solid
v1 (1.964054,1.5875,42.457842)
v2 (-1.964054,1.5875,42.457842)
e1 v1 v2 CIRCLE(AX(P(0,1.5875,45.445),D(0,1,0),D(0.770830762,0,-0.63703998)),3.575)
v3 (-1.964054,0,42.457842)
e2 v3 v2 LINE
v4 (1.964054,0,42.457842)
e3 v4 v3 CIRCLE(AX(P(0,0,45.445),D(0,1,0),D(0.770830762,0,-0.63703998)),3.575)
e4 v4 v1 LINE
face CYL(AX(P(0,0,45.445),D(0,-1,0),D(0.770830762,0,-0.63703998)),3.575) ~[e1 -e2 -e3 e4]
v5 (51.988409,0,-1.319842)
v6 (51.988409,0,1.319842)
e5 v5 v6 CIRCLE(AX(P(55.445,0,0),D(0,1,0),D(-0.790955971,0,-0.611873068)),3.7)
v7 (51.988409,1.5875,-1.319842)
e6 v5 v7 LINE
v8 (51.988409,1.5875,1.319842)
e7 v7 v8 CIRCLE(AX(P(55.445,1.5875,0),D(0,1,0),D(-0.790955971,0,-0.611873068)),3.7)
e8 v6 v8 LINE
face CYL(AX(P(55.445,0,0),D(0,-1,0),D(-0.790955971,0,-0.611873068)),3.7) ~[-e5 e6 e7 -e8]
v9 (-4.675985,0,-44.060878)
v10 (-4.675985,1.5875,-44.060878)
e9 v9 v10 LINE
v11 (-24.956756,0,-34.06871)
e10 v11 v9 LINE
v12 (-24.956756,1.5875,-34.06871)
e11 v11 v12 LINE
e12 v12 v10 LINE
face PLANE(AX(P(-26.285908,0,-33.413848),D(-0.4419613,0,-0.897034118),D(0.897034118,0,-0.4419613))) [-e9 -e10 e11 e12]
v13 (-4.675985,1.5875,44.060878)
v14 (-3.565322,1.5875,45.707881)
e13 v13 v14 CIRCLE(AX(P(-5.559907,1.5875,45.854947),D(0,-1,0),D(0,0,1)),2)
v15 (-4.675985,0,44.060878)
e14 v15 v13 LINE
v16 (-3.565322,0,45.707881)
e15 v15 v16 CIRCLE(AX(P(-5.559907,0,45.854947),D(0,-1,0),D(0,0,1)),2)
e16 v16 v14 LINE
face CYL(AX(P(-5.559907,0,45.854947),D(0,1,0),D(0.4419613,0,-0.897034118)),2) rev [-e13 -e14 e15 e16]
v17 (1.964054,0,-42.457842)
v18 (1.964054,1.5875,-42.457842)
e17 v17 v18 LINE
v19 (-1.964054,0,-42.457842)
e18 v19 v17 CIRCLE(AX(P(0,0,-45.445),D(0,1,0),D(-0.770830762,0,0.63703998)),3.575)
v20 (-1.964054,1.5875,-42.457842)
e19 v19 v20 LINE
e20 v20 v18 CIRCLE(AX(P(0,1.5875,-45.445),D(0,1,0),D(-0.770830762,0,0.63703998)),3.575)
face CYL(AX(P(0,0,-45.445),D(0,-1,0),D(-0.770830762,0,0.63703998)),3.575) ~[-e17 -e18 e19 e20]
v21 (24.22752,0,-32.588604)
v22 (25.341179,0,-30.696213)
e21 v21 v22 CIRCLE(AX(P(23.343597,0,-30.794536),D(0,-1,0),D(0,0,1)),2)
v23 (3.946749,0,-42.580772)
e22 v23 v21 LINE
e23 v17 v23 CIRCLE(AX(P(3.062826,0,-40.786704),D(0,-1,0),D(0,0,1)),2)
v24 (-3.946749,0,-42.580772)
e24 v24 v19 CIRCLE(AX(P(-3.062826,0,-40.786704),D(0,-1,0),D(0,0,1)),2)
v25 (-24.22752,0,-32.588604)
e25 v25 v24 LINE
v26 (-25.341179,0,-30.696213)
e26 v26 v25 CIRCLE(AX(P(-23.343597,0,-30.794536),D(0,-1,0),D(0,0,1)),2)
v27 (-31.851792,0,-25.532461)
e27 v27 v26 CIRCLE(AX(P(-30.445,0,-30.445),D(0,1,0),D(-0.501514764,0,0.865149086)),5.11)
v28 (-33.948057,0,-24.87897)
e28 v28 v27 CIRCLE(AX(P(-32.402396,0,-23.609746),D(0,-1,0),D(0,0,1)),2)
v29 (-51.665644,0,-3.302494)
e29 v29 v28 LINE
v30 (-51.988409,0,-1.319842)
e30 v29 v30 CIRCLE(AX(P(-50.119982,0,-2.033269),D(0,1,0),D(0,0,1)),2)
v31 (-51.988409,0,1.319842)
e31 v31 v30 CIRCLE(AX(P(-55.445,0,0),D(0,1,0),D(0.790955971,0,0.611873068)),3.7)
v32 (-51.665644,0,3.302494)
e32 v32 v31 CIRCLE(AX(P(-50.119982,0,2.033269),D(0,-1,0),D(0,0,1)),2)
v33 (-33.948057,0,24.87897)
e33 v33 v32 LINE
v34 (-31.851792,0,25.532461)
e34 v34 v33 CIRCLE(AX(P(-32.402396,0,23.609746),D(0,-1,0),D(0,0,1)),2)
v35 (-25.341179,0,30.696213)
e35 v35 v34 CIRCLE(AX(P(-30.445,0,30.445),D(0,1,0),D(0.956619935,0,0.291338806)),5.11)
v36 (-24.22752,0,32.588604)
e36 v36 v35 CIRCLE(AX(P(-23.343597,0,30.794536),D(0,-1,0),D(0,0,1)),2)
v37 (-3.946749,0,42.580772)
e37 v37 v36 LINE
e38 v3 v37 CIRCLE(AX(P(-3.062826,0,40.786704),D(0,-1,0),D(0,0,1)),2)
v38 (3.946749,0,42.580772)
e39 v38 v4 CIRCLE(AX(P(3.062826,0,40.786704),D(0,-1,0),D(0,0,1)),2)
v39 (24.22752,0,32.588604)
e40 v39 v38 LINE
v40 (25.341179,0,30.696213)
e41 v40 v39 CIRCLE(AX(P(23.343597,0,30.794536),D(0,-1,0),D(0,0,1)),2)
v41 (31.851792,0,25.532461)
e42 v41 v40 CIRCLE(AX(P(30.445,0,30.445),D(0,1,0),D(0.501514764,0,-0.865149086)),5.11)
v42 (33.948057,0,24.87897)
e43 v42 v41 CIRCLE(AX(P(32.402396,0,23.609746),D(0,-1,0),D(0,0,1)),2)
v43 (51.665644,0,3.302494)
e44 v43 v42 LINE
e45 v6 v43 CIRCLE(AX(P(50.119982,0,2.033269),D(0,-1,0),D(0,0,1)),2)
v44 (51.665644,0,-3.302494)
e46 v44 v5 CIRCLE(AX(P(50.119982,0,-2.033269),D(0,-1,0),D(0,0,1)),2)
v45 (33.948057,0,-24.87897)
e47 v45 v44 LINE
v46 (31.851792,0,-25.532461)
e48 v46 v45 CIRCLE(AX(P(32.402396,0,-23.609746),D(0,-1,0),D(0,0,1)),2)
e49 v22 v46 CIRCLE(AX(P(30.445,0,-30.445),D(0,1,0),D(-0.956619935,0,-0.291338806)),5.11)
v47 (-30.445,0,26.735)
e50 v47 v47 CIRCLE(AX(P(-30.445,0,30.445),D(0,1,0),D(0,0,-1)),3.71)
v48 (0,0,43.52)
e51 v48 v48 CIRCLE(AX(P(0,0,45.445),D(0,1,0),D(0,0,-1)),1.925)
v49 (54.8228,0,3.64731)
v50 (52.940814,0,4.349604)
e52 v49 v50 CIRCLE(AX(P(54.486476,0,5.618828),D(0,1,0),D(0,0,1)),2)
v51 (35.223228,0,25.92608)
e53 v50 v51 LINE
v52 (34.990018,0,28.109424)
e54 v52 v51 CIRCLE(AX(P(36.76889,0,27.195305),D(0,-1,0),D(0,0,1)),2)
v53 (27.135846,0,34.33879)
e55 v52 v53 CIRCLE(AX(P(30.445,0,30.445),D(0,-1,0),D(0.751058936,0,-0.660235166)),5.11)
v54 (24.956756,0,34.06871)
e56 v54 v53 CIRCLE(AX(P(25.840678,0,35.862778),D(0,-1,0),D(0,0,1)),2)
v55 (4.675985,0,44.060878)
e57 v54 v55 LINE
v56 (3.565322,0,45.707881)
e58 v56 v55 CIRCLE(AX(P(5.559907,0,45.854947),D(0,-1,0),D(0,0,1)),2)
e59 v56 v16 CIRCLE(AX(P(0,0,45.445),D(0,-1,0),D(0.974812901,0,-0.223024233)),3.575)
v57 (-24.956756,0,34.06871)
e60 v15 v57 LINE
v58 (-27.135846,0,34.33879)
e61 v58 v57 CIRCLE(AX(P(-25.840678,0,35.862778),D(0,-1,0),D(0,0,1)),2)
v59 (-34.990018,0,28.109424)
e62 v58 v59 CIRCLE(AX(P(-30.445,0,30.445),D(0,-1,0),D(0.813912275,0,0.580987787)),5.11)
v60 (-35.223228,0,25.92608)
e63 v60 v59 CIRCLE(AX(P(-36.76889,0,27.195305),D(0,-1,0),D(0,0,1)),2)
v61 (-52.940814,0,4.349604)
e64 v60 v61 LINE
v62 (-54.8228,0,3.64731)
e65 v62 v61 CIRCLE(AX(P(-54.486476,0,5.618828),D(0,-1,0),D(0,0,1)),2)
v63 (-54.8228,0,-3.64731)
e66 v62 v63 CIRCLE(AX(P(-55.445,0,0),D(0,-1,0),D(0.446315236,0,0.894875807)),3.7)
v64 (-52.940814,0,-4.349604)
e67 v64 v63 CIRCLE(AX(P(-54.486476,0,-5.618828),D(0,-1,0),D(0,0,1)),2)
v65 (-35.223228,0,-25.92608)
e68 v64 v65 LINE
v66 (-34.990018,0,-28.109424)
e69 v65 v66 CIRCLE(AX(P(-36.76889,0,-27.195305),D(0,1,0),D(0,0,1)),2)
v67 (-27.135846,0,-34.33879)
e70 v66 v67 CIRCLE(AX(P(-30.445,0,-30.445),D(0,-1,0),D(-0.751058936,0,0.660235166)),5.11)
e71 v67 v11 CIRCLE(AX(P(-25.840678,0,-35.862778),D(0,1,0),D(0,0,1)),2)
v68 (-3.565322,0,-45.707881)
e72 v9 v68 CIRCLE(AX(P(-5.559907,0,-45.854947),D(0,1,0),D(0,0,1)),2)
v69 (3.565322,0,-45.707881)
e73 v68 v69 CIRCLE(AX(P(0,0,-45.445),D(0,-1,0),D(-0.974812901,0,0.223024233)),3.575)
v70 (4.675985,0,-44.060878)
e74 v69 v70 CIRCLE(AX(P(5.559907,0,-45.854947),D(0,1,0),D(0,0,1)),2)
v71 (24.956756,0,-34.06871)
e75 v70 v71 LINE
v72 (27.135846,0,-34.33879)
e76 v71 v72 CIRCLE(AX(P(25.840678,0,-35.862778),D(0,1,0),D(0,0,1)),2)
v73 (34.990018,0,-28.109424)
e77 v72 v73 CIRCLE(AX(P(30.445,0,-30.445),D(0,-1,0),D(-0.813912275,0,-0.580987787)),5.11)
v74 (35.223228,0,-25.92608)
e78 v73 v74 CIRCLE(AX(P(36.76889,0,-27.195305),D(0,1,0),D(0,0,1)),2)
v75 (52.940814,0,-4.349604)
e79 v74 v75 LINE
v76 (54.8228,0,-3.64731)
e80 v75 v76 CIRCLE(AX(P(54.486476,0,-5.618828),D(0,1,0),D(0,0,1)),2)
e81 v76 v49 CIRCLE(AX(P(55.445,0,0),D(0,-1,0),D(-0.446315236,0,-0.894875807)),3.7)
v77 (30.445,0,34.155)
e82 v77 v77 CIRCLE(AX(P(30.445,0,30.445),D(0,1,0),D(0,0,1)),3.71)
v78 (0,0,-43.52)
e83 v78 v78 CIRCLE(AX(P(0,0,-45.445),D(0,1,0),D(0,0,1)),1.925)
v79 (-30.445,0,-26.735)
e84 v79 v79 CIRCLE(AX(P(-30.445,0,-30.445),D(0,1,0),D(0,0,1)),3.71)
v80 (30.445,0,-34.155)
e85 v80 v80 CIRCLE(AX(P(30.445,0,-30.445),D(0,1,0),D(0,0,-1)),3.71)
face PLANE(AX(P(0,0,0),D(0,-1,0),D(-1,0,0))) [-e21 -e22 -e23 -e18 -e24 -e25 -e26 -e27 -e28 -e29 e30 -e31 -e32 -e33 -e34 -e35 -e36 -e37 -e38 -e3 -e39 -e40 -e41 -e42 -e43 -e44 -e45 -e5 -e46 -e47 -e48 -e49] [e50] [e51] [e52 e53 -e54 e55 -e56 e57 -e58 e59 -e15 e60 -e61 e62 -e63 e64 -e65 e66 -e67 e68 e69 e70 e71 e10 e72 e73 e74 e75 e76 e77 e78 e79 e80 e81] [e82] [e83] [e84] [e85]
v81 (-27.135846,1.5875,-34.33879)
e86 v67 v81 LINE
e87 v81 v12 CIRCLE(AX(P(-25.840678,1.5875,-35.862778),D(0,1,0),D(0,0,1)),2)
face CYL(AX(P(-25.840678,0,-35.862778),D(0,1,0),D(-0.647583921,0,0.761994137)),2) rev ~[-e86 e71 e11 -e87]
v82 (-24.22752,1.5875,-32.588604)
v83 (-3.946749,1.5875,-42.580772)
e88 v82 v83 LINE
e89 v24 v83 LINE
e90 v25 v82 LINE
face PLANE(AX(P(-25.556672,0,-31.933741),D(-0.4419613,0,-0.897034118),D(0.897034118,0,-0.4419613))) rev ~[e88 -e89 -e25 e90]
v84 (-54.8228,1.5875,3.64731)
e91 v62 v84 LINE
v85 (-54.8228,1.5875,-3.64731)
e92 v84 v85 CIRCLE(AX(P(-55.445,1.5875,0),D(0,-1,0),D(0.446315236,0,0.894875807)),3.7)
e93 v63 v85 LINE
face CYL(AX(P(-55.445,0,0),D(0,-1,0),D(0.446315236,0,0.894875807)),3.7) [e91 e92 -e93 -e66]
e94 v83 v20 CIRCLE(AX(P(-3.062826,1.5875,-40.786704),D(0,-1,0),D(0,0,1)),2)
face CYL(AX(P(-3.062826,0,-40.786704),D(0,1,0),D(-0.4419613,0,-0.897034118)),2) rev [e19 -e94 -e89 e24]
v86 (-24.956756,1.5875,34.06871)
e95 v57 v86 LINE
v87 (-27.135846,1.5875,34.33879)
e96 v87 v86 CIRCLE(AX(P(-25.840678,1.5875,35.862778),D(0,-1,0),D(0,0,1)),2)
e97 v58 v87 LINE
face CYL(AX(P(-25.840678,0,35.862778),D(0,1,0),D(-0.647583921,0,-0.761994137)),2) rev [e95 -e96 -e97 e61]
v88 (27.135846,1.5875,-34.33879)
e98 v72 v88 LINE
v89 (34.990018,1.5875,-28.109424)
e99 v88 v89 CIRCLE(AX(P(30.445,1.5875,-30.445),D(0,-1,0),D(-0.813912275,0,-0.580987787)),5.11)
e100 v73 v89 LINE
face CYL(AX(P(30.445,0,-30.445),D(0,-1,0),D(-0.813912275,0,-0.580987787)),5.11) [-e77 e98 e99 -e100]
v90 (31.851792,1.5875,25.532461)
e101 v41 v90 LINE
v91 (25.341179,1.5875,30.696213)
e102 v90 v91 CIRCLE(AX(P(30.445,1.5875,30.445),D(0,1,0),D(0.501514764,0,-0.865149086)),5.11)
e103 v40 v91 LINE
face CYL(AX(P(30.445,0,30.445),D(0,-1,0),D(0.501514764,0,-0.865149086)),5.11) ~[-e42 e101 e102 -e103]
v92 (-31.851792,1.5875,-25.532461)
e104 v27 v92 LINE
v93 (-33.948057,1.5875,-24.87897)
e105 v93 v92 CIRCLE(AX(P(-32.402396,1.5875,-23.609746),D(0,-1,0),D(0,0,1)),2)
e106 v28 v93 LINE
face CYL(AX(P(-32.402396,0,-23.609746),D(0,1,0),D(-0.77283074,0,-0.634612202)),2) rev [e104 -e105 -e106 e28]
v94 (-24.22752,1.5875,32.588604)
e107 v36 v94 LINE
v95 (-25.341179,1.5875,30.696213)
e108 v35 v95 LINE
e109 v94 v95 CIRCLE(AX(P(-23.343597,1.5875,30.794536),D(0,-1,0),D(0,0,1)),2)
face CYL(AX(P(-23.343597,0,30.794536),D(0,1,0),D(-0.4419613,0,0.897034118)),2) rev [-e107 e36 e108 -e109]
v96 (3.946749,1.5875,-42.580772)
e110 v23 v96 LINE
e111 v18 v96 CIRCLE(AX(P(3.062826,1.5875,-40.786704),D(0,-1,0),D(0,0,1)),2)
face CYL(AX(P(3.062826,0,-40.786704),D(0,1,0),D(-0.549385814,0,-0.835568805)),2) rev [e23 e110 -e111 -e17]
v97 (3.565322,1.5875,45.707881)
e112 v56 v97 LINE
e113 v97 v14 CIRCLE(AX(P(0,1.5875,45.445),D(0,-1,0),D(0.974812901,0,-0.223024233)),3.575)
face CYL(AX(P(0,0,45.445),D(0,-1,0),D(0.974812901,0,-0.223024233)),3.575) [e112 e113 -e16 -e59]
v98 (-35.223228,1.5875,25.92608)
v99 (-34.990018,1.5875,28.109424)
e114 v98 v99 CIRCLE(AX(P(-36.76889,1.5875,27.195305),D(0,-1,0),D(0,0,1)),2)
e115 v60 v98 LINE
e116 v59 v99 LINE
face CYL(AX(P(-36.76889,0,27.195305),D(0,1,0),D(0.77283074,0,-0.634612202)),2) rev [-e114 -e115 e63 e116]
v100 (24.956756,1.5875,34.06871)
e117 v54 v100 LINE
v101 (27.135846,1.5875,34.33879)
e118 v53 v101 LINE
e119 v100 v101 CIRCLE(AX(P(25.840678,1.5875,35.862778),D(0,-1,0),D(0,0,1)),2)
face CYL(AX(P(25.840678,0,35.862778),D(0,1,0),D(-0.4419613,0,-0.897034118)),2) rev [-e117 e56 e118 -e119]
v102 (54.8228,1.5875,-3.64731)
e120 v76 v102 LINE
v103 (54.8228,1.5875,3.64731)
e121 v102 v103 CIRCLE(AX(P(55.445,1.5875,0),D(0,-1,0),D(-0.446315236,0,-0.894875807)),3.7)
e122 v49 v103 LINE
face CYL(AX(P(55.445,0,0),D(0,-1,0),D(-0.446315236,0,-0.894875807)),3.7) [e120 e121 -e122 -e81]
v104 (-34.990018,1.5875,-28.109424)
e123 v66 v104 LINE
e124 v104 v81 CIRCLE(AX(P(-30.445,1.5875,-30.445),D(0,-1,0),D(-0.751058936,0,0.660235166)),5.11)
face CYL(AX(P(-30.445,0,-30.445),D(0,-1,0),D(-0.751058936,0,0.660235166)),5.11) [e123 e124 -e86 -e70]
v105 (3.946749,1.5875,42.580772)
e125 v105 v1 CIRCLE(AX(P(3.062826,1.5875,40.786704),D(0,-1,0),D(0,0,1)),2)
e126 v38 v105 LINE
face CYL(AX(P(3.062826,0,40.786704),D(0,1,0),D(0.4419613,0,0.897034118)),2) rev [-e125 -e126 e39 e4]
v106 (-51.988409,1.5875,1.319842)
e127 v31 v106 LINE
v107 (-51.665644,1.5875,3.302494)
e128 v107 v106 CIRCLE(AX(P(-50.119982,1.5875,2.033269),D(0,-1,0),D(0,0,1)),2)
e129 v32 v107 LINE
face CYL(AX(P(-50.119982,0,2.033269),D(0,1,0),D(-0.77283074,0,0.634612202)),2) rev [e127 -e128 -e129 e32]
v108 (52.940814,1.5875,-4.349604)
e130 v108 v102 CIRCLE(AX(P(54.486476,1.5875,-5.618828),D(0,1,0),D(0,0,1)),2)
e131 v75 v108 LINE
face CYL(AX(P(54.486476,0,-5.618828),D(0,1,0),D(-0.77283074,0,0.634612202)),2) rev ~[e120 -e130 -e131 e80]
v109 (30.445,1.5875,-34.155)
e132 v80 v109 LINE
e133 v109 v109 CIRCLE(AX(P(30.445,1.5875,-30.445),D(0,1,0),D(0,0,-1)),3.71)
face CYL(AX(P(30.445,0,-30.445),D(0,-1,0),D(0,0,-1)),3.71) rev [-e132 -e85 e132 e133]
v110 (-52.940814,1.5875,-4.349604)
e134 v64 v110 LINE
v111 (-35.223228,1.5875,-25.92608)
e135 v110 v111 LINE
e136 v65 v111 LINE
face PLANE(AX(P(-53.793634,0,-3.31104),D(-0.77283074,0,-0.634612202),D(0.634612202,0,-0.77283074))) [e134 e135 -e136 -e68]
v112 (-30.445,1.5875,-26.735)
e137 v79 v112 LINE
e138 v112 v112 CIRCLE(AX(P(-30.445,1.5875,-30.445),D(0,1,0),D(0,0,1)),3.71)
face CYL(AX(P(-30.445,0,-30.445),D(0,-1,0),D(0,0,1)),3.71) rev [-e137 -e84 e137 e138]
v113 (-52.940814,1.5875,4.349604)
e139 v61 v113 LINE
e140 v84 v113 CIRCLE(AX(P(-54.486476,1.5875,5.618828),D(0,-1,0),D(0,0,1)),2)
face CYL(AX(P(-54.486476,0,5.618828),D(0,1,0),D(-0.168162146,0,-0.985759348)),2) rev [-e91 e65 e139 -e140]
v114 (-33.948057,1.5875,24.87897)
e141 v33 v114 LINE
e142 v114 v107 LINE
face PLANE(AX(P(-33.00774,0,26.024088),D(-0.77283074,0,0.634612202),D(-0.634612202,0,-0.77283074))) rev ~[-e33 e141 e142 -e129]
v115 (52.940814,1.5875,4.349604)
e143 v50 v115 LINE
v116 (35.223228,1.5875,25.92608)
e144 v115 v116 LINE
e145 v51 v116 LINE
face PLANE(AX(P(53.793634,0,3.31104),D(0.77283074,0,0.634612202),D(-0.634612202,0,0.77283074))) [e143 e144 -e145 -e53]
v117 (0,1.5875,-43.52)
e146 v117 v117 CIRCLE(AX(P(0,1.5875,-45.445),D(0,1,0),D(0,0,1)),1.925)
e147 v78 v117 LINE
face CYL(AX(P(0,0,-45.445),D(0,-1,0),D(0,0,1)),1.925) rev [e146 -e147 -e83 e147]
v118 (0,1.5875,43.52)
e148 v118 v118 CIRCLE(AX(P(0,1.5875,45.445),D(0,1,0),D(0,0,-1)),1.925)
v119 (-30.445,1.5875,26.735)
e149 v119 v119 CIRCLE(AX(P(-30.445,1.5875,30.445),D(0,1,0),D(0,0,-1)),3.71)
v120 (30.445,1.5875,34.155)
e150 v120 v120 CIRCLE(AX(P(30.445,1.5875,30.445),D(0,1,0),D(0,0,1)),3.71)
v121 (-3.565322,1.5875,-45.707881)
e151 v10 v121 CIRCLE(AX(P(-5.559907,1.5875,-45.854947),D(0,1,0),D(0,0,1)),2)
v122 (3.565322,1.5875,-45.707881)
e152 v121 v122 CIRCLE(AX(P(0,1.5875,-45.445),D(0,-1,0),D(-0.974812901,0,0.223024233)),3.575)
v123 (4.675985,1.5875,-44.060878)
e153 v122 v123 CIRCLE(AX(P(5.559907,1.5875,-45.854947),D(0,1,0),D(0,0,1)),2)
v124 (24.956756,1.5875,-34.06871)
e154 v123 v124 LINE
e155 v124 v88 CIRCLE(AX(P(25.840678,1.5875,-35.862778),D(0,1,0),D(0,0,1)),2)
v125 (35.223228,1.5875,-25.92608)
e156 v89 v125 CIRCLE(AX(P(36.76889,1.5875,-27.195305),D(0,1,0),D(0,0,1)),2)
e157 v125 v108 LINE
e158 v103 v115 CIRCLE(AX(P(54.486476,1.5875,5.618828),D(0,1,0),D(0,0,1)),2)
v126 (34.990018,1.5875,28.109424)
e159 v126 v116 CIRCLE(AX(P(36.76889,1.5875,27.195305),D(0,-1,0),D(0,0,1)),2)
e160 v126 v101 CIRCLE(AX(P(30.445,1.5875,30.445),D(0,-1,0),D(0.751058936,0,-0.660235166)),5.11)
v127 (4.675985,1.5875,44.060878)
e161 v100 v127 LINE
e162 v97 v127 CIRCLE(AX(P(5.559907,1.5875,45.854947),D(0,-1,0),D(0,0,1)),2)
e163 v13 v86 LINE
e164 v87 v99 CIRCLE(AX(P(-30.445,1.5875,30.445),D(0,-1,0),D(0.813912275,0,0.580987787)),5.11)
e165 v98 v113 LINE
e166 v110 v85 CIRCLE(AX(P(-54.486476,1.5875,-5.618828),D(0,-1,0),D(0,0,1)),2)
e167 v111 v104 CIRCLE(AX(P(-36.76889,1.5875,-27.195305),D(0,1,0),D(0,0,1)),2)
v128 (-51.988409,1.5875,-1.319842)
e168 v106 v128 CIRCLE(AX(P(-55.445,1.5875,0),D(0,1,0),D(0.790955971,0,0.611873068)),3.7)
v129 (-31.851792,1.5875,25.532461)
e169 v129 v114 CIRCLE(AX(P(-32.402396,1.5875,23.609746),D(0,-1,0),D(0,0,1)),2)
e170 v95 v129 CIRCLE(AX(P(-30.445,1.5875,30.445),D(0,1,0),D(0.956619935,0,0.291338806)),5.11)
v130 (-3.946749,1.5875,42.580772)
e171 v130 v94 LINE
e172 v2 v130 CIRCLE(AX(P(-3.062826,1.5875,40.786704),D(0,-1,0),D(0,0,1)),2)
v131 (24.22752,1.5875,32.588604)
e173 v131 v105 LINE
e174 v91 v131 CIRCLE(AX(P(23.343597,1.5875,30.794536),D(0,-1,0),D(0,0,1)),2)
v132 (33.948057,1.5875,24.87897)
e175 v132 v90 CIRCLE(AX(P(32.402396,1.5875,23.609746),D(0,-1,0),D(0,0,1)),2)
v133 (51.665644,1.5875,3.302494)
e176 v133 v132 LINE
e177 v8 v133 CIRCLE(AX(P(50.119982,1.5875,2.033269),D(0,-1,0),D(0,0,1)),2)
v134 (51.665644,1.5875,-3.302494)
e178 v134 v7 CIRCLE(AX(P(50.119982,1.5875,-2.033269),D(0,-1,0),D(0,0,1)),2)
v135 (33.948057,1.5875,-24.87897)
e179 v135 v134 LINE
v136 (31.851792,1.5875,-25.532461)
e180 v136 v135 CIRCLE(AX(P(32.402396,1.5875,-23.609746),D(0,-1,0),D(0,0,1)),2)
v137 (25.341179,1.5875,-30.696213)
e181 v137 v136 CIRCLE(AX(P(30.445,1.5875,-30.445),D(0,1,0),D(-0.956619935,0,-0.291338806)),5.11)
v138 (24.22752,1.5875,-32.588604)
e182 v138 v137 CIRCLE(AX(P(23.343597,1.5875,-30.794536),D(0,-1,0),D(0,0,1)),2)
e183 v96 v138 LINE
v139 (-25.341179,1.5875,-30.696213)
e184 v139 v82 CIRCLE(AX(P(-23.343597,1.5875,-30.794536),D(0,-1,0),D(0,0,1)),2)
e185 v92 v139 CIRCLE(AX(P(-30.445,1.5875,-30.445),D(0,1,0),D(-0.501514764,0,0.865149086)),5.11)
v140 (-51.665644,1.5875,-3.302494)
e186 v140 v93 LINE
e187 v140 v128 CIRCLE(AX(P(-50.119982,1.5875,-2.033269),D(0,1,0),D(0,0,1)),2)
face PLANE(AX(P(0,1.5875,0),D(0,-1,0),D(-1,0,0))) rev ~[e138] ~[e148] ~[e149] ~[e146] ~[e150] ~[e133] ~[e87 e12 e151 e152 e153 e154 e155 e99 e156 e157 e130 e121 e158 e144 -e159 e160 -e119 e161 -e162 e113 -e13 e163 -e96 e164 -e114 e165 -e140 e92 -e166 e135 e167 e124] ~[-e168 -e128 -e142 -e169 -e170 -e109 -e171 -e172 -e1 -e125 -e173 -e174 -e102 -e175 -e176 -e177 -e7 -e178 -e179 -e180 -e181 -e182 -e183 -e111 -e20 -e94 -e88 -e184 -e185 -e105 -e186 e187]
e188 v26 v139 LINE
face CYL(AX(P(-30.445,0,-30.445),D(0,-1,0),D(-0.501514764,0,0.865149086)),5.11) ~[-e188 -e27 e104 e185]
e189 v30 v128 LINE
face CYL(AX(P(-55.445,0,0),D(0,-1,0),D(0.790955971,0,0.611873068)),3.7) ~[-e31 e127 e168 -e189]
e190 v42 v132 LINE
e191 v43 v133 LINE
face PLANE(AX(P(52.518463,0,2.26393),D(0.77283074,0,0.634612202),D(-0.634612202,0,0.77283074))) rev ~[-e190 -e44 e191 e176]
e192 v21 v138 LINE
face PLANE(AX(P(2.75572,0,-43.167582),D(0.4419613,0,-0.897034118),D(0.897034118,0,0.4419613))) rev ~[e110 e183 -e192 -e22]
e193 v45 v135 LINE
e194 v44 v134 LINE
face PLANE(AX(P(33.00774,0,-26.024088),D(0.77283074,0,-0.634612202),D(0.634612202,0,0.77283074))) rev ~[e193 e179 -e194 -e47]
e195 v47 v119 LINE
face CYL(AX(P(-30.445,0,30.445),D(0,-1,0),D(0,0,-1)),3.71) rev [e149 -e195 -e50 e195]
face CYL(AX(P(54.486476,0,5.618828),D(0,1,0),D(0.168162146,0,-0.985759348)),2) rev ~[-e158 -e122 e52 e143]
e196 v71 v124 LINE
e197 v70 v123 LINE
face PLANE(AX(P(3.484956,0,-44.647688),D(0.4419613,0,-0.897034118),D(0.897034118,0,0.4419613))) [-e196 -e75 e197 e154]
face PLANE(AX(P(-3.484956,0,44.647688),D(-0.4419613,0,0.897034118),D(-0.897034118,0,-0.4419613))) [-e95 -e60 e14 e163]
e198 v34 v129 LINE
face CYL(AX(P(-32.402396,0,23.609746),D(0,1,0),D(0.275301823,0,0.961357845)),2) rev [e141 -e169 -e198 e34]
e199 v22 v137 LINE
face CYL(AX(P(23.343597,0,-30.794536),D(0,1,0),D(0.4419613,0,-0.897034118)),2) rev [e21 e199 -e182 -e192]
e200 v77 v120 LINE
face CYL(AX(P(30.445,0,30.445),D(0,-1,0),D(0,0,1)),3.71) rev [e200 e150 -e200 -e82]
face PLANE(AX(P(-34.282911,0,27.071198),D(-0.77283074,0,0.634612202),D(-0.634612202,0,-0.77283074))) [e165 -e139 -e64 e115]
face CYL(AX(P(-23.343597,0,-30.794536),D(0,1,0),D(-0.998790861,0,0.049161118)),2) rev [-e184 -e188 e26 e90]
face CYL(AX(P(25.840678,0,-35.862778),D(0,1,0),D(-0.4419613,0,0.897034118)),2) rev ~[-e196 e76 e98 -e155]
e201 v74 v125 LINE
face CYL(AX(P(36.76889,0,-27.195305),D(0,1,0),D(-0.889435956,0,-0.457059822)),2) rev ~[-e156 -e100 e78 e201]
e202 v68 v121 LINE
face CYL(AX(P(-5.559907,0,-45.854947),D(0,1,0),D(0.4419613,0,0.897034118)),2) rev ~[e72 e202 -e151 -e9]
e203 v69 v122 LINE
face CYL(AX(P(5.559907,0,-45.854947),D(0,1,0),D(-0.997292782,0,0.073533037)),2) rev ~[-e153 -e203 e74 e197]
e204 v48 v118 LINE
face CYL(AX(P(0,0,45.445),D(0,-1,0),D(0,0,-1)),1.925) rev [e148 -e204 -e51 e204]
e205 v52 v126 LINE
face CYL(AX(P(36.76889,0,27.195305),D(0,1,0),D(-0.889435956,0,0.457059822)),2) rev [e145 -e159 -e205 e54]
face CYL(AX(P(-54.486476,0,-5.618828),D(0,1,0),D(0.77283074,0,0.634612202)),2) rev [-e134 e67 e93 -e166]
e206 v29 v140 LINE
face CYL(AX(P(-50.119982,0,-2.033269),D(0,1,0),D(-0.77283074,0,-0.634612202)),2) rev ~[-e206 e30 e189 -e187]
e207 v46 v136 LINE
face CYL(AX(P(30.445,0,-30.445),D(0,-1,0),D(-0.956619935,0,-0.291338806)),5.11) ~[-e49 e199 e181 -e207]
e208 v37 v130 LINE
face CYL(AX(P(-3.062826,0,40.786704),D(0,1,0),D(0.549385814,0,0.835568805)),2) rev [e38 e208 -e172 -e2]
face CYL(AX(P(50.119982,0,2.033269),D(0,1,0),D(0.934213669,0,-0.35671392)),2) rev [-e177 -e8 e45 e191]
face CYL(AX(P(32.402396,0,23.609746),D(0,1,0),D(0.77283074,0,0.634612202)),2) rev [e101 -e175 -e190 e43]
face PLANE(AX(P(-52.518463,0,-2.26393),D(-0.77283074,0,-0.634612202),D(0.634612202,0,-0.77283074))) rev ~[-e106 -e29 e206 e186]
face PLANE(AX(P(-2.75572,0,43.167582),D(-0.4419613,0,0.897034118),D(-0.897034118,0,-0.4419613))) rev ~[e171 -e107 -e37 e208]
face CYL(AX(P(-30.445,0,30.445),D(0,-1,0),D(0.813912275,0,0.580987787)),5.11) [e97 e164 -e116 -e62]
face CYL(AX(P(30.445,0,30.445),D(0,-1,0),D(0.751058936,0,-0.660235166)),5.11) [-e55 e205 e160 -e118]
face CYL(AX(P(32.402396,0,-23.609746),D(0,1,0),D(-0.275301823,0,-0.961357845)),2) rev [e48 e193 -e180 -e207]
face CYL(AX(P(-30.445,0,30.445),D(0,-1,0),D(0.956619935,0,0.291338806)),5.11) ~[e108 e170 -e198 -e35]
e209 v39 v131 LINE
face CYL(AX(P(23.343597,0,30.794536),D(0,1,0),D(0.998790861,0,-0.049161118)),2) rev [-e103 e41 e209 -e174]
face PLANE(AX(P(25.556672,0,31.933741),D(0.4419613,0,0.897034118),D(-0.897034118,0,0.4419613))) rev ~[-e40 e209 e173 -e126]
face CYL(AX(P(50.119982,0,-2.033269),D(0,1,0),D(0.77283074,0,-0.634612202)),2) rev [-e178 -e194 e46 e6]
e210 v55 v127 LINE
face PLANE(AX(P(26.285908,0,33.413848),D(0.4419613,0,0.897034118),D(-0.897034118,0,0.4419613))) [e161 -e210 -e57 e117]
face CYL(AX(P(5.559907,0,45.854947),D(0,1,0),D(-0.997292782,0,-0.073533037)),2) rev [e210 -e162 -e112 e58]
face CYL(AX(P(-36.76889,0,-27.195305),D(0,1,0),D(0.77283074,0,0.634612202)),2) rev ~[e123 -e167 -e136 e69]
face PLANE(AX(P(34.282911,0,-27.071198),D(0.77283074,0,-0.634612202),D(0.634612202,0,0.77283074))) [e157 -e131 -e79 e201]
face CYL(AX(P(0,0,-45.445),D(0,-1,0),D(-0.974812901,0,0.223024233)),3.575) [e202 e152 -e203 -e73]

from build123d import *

# Parameters (mm, degrees)
SKETCH1_R           = 3.71
SKETCH1_R_2         = 1.925
BOSS_EXTRUDE1_DEPTH = 1.5875
FILLET1_R           = 2


with BuildPart() as part:
    # Sketch1 → Boss-Extrude1 (new body)
    with BuildSketch(Plane(origin=(0, 0, 0), x_dir=(1, 0, 0), z_dir=(0, 1, 0))):
        with BuildLine():
            Line((-53.793633628, 3.311040487), (-34.282911165, 27.071198303))
            ThreePointArc((-34.282911165, 27.071198303), (-33.620388047, 34.448624702), (-26.285908277, 33.413847594))
            Line((-26.285908277, 33.413847594), (-3.48495612, 44.647688368))
            ThreePointArc((-3.48495612, 44.647688368), (0, 49.02), (3.48495612, 44.647688368))
            Line((3.48495612, 44.647688368), (26.285908277, 33.413847594))
            ThreePointArc((26.285908277, 33.413847594), (33.620388047, 34.448624702), (34.282911165, 27.071198303))
            Line((34.282911165, 27.071198303), (53.793633628, 3.311040487))
            ThreePointArc((53.793633628, 3.311040487), (59.145, 0), (53.793633628, -3.311040487))
            Line((53.793633628, -3.311040487), (34.282911165, -27.071198303))
            ThreePointArc((34.282911165, -27.071198303), (33.620388047, -34.448624702), (26.285908277, -33.413847594))
            Line((26.285908277, -33.413847594), (3.48495612, -44.647688368))
            ThreePointArc((3.48495612, -44.647688368), (0, -49.02), (-3.48495612, -44.647688368))
            Line((-3.48495612, -44.647688368), (-26.285908277, -33.413847594))
            ThreePointArc((-26.285908277, -33.413847594), (-33.620388047, -34.448624702), (-34.282911165, -27.071198303))
            Line((-34.282911165, -27.071198303), (-53.793633628, -3.311040487))
            ThreePointArc((-53.793633628, -3.311040487), (-59.145, 0), (-53.793633628, 3.311040487))
        make_face()
        with Locations(Location((-30.445, 30.445, 0), (0, 0, 270))):
            Circle(SKETCH1_R, mode=Mode.SUBTRACT)
        with Locations(Location((0, -45.445, 0), (0, 0, 90))):
            Circle(SKETCH1_R_2, mode=Mode.SUBTRACT)
        with Locations(Location((-30.445, -30.445, 0), (0, 0, 90))):
            Circle(SKETCH1_R, mode=Mode.SUBTRACT)
        with Locations(Location((0, 45.445, 0), (0, 0, 270))):
            Circle(SKETCH1_R_2, mode=Mode.SUBTRACT)
        with Locations(Location((30.445, -30.445, 0), (0, 0, 270))):
            Circle(SKETCH1_R, mode=Mode.SUBTRACT)
        with Locations(Location((30.445, 30.445, 0), (0, 0, 90))):
            Circle(SKETCH1_R, mode=Mode.SUBTRACT)
        with BuildLine():
            Line((-52.518462907, 2.263930353), (-33.007740444, 26.024088169))
            ThreePointArc((-33.007740444, 26.024088169), (-27.269611953, 26.441375298), (-25.556672132, 31.933741299))
            Line((-25.556672132, 31.933741299), (-2.755719976, 43.167582073))
            ThreePointArc((-2.755719976, 43.167582073), (0, 41.87), (2.755719976, 43.167582073))
            Line((2.755719976, 43.167582073), (25.556672132, 31.933741299))
            ThreePointArc((25.556672132, 31.933741299), (27.269611953, 26.441375298), (33.007740444, 26.024088169))
            Line((33.007740444, 26.024088169), (52.518462907, 2.263930353))
            ThreePointArc((52.518462907, 2.263930353), (51.745, 0), (52.518462907, -2.263930353))
            Line((52.518462907, -2.263930353), (33.007740444, -26.024088169))
            ThreePointArc((33.007740444, -26.024088169), (27.269611953, -26.441375298), (25.556672132, -31.933741299))
            Line((25.556672132, -31.933741299), (2.755719976, -43.167582073))
            ThreePointArc((2.755719976, -43.167582073), (0, -41.87), (-2.755719976, -43.167582073))
            Line((-2.755719976, -43.167582073), (-25.556672132, -31.933741299))
            ThreePointArc((-25.556672132, -31.933741299), (-27.269611953, -26.441375298), (-33.007740444, -26.024088169))
            Line((-33.007740444, -26.024088169), (-52.518462907, -2.263930353))
            ThreePointArc((-52.518462907, -2.263930353), (-51.745, 0), (-52.518462907, 2.263930353))
        make_face(mode=Mode.SUBTRACT)
    extrude(amount=BOSS_EXTRUDE1_DEPTH)

    # Fillet1
    fillet1_edges = [part.edges().sort_by_distance(p)[0] for p in [
        (26.285908277, 0.79375, 33.413847594),
        (3.48495612, 0.79375, 44.647688368),
        (-3.48495612, 0.79375, 44.647688368),
        (-26.285908277, 0.79375, 33.413847594),
        (-34.282911165, 0.79375, 27.071198303),
        (-53.793633628, 0.79375, 3.311040487),
        (-53.793633628, 0.79375, -3.311040487),
        (-34.282911165, 0.79375, -27.071198303),
        (-26.285908277, 0.79375, -33.413847594),
        (-3.48495612, 0.79375, -44.647688368),
        (3.48495612, 0.79375, -44.647688368),
        (26.285908277, 0.79375, -33.413847594),
        (34.282911165, 0.79375, -27.071198303),
        (53.793633628, 0.79375, -3.311040487),
        (53.793633628, 0.79375, 3.311040487),
        (34.282911165, 0.79375, 27.071198303),
        (-52.518462907, 0.79375, -2.263930353),
        (-52.518462907, 0.79375, 2.263930353),
        (-33.007740444, 0.79375, 26.024088169),
        (-25.556672132, 0.79375, 31.933741299),
        (-2.755719976, 0.79375, 43.167582073),
        (2.755719976, 0.79375, 43.167582073),
        (25.556672132, 0.79375, 31.933741299),
        (33.007740444, 0.79375, 26.024088169),
        (52.518462907, 0.79375, 2.263930353),
        (52.518462907, 0.79375, -2.263930353),
        (33.007740444, 0.79375, -26.024088169),
        (25.556672132, 0.79375, -31.933741299),
        (2.755719976, 0.79375, -43.167582073),
        (-2.755719976, 0.79375, -43.167582073),
        (-25.556672132, 0.79375, -31.933741299),
        (-33.007740444, 0.79375, -26.024088169),
    ]]
    fillet(fillet1_edges, radius=FILLET1_R)


solid = part.part
